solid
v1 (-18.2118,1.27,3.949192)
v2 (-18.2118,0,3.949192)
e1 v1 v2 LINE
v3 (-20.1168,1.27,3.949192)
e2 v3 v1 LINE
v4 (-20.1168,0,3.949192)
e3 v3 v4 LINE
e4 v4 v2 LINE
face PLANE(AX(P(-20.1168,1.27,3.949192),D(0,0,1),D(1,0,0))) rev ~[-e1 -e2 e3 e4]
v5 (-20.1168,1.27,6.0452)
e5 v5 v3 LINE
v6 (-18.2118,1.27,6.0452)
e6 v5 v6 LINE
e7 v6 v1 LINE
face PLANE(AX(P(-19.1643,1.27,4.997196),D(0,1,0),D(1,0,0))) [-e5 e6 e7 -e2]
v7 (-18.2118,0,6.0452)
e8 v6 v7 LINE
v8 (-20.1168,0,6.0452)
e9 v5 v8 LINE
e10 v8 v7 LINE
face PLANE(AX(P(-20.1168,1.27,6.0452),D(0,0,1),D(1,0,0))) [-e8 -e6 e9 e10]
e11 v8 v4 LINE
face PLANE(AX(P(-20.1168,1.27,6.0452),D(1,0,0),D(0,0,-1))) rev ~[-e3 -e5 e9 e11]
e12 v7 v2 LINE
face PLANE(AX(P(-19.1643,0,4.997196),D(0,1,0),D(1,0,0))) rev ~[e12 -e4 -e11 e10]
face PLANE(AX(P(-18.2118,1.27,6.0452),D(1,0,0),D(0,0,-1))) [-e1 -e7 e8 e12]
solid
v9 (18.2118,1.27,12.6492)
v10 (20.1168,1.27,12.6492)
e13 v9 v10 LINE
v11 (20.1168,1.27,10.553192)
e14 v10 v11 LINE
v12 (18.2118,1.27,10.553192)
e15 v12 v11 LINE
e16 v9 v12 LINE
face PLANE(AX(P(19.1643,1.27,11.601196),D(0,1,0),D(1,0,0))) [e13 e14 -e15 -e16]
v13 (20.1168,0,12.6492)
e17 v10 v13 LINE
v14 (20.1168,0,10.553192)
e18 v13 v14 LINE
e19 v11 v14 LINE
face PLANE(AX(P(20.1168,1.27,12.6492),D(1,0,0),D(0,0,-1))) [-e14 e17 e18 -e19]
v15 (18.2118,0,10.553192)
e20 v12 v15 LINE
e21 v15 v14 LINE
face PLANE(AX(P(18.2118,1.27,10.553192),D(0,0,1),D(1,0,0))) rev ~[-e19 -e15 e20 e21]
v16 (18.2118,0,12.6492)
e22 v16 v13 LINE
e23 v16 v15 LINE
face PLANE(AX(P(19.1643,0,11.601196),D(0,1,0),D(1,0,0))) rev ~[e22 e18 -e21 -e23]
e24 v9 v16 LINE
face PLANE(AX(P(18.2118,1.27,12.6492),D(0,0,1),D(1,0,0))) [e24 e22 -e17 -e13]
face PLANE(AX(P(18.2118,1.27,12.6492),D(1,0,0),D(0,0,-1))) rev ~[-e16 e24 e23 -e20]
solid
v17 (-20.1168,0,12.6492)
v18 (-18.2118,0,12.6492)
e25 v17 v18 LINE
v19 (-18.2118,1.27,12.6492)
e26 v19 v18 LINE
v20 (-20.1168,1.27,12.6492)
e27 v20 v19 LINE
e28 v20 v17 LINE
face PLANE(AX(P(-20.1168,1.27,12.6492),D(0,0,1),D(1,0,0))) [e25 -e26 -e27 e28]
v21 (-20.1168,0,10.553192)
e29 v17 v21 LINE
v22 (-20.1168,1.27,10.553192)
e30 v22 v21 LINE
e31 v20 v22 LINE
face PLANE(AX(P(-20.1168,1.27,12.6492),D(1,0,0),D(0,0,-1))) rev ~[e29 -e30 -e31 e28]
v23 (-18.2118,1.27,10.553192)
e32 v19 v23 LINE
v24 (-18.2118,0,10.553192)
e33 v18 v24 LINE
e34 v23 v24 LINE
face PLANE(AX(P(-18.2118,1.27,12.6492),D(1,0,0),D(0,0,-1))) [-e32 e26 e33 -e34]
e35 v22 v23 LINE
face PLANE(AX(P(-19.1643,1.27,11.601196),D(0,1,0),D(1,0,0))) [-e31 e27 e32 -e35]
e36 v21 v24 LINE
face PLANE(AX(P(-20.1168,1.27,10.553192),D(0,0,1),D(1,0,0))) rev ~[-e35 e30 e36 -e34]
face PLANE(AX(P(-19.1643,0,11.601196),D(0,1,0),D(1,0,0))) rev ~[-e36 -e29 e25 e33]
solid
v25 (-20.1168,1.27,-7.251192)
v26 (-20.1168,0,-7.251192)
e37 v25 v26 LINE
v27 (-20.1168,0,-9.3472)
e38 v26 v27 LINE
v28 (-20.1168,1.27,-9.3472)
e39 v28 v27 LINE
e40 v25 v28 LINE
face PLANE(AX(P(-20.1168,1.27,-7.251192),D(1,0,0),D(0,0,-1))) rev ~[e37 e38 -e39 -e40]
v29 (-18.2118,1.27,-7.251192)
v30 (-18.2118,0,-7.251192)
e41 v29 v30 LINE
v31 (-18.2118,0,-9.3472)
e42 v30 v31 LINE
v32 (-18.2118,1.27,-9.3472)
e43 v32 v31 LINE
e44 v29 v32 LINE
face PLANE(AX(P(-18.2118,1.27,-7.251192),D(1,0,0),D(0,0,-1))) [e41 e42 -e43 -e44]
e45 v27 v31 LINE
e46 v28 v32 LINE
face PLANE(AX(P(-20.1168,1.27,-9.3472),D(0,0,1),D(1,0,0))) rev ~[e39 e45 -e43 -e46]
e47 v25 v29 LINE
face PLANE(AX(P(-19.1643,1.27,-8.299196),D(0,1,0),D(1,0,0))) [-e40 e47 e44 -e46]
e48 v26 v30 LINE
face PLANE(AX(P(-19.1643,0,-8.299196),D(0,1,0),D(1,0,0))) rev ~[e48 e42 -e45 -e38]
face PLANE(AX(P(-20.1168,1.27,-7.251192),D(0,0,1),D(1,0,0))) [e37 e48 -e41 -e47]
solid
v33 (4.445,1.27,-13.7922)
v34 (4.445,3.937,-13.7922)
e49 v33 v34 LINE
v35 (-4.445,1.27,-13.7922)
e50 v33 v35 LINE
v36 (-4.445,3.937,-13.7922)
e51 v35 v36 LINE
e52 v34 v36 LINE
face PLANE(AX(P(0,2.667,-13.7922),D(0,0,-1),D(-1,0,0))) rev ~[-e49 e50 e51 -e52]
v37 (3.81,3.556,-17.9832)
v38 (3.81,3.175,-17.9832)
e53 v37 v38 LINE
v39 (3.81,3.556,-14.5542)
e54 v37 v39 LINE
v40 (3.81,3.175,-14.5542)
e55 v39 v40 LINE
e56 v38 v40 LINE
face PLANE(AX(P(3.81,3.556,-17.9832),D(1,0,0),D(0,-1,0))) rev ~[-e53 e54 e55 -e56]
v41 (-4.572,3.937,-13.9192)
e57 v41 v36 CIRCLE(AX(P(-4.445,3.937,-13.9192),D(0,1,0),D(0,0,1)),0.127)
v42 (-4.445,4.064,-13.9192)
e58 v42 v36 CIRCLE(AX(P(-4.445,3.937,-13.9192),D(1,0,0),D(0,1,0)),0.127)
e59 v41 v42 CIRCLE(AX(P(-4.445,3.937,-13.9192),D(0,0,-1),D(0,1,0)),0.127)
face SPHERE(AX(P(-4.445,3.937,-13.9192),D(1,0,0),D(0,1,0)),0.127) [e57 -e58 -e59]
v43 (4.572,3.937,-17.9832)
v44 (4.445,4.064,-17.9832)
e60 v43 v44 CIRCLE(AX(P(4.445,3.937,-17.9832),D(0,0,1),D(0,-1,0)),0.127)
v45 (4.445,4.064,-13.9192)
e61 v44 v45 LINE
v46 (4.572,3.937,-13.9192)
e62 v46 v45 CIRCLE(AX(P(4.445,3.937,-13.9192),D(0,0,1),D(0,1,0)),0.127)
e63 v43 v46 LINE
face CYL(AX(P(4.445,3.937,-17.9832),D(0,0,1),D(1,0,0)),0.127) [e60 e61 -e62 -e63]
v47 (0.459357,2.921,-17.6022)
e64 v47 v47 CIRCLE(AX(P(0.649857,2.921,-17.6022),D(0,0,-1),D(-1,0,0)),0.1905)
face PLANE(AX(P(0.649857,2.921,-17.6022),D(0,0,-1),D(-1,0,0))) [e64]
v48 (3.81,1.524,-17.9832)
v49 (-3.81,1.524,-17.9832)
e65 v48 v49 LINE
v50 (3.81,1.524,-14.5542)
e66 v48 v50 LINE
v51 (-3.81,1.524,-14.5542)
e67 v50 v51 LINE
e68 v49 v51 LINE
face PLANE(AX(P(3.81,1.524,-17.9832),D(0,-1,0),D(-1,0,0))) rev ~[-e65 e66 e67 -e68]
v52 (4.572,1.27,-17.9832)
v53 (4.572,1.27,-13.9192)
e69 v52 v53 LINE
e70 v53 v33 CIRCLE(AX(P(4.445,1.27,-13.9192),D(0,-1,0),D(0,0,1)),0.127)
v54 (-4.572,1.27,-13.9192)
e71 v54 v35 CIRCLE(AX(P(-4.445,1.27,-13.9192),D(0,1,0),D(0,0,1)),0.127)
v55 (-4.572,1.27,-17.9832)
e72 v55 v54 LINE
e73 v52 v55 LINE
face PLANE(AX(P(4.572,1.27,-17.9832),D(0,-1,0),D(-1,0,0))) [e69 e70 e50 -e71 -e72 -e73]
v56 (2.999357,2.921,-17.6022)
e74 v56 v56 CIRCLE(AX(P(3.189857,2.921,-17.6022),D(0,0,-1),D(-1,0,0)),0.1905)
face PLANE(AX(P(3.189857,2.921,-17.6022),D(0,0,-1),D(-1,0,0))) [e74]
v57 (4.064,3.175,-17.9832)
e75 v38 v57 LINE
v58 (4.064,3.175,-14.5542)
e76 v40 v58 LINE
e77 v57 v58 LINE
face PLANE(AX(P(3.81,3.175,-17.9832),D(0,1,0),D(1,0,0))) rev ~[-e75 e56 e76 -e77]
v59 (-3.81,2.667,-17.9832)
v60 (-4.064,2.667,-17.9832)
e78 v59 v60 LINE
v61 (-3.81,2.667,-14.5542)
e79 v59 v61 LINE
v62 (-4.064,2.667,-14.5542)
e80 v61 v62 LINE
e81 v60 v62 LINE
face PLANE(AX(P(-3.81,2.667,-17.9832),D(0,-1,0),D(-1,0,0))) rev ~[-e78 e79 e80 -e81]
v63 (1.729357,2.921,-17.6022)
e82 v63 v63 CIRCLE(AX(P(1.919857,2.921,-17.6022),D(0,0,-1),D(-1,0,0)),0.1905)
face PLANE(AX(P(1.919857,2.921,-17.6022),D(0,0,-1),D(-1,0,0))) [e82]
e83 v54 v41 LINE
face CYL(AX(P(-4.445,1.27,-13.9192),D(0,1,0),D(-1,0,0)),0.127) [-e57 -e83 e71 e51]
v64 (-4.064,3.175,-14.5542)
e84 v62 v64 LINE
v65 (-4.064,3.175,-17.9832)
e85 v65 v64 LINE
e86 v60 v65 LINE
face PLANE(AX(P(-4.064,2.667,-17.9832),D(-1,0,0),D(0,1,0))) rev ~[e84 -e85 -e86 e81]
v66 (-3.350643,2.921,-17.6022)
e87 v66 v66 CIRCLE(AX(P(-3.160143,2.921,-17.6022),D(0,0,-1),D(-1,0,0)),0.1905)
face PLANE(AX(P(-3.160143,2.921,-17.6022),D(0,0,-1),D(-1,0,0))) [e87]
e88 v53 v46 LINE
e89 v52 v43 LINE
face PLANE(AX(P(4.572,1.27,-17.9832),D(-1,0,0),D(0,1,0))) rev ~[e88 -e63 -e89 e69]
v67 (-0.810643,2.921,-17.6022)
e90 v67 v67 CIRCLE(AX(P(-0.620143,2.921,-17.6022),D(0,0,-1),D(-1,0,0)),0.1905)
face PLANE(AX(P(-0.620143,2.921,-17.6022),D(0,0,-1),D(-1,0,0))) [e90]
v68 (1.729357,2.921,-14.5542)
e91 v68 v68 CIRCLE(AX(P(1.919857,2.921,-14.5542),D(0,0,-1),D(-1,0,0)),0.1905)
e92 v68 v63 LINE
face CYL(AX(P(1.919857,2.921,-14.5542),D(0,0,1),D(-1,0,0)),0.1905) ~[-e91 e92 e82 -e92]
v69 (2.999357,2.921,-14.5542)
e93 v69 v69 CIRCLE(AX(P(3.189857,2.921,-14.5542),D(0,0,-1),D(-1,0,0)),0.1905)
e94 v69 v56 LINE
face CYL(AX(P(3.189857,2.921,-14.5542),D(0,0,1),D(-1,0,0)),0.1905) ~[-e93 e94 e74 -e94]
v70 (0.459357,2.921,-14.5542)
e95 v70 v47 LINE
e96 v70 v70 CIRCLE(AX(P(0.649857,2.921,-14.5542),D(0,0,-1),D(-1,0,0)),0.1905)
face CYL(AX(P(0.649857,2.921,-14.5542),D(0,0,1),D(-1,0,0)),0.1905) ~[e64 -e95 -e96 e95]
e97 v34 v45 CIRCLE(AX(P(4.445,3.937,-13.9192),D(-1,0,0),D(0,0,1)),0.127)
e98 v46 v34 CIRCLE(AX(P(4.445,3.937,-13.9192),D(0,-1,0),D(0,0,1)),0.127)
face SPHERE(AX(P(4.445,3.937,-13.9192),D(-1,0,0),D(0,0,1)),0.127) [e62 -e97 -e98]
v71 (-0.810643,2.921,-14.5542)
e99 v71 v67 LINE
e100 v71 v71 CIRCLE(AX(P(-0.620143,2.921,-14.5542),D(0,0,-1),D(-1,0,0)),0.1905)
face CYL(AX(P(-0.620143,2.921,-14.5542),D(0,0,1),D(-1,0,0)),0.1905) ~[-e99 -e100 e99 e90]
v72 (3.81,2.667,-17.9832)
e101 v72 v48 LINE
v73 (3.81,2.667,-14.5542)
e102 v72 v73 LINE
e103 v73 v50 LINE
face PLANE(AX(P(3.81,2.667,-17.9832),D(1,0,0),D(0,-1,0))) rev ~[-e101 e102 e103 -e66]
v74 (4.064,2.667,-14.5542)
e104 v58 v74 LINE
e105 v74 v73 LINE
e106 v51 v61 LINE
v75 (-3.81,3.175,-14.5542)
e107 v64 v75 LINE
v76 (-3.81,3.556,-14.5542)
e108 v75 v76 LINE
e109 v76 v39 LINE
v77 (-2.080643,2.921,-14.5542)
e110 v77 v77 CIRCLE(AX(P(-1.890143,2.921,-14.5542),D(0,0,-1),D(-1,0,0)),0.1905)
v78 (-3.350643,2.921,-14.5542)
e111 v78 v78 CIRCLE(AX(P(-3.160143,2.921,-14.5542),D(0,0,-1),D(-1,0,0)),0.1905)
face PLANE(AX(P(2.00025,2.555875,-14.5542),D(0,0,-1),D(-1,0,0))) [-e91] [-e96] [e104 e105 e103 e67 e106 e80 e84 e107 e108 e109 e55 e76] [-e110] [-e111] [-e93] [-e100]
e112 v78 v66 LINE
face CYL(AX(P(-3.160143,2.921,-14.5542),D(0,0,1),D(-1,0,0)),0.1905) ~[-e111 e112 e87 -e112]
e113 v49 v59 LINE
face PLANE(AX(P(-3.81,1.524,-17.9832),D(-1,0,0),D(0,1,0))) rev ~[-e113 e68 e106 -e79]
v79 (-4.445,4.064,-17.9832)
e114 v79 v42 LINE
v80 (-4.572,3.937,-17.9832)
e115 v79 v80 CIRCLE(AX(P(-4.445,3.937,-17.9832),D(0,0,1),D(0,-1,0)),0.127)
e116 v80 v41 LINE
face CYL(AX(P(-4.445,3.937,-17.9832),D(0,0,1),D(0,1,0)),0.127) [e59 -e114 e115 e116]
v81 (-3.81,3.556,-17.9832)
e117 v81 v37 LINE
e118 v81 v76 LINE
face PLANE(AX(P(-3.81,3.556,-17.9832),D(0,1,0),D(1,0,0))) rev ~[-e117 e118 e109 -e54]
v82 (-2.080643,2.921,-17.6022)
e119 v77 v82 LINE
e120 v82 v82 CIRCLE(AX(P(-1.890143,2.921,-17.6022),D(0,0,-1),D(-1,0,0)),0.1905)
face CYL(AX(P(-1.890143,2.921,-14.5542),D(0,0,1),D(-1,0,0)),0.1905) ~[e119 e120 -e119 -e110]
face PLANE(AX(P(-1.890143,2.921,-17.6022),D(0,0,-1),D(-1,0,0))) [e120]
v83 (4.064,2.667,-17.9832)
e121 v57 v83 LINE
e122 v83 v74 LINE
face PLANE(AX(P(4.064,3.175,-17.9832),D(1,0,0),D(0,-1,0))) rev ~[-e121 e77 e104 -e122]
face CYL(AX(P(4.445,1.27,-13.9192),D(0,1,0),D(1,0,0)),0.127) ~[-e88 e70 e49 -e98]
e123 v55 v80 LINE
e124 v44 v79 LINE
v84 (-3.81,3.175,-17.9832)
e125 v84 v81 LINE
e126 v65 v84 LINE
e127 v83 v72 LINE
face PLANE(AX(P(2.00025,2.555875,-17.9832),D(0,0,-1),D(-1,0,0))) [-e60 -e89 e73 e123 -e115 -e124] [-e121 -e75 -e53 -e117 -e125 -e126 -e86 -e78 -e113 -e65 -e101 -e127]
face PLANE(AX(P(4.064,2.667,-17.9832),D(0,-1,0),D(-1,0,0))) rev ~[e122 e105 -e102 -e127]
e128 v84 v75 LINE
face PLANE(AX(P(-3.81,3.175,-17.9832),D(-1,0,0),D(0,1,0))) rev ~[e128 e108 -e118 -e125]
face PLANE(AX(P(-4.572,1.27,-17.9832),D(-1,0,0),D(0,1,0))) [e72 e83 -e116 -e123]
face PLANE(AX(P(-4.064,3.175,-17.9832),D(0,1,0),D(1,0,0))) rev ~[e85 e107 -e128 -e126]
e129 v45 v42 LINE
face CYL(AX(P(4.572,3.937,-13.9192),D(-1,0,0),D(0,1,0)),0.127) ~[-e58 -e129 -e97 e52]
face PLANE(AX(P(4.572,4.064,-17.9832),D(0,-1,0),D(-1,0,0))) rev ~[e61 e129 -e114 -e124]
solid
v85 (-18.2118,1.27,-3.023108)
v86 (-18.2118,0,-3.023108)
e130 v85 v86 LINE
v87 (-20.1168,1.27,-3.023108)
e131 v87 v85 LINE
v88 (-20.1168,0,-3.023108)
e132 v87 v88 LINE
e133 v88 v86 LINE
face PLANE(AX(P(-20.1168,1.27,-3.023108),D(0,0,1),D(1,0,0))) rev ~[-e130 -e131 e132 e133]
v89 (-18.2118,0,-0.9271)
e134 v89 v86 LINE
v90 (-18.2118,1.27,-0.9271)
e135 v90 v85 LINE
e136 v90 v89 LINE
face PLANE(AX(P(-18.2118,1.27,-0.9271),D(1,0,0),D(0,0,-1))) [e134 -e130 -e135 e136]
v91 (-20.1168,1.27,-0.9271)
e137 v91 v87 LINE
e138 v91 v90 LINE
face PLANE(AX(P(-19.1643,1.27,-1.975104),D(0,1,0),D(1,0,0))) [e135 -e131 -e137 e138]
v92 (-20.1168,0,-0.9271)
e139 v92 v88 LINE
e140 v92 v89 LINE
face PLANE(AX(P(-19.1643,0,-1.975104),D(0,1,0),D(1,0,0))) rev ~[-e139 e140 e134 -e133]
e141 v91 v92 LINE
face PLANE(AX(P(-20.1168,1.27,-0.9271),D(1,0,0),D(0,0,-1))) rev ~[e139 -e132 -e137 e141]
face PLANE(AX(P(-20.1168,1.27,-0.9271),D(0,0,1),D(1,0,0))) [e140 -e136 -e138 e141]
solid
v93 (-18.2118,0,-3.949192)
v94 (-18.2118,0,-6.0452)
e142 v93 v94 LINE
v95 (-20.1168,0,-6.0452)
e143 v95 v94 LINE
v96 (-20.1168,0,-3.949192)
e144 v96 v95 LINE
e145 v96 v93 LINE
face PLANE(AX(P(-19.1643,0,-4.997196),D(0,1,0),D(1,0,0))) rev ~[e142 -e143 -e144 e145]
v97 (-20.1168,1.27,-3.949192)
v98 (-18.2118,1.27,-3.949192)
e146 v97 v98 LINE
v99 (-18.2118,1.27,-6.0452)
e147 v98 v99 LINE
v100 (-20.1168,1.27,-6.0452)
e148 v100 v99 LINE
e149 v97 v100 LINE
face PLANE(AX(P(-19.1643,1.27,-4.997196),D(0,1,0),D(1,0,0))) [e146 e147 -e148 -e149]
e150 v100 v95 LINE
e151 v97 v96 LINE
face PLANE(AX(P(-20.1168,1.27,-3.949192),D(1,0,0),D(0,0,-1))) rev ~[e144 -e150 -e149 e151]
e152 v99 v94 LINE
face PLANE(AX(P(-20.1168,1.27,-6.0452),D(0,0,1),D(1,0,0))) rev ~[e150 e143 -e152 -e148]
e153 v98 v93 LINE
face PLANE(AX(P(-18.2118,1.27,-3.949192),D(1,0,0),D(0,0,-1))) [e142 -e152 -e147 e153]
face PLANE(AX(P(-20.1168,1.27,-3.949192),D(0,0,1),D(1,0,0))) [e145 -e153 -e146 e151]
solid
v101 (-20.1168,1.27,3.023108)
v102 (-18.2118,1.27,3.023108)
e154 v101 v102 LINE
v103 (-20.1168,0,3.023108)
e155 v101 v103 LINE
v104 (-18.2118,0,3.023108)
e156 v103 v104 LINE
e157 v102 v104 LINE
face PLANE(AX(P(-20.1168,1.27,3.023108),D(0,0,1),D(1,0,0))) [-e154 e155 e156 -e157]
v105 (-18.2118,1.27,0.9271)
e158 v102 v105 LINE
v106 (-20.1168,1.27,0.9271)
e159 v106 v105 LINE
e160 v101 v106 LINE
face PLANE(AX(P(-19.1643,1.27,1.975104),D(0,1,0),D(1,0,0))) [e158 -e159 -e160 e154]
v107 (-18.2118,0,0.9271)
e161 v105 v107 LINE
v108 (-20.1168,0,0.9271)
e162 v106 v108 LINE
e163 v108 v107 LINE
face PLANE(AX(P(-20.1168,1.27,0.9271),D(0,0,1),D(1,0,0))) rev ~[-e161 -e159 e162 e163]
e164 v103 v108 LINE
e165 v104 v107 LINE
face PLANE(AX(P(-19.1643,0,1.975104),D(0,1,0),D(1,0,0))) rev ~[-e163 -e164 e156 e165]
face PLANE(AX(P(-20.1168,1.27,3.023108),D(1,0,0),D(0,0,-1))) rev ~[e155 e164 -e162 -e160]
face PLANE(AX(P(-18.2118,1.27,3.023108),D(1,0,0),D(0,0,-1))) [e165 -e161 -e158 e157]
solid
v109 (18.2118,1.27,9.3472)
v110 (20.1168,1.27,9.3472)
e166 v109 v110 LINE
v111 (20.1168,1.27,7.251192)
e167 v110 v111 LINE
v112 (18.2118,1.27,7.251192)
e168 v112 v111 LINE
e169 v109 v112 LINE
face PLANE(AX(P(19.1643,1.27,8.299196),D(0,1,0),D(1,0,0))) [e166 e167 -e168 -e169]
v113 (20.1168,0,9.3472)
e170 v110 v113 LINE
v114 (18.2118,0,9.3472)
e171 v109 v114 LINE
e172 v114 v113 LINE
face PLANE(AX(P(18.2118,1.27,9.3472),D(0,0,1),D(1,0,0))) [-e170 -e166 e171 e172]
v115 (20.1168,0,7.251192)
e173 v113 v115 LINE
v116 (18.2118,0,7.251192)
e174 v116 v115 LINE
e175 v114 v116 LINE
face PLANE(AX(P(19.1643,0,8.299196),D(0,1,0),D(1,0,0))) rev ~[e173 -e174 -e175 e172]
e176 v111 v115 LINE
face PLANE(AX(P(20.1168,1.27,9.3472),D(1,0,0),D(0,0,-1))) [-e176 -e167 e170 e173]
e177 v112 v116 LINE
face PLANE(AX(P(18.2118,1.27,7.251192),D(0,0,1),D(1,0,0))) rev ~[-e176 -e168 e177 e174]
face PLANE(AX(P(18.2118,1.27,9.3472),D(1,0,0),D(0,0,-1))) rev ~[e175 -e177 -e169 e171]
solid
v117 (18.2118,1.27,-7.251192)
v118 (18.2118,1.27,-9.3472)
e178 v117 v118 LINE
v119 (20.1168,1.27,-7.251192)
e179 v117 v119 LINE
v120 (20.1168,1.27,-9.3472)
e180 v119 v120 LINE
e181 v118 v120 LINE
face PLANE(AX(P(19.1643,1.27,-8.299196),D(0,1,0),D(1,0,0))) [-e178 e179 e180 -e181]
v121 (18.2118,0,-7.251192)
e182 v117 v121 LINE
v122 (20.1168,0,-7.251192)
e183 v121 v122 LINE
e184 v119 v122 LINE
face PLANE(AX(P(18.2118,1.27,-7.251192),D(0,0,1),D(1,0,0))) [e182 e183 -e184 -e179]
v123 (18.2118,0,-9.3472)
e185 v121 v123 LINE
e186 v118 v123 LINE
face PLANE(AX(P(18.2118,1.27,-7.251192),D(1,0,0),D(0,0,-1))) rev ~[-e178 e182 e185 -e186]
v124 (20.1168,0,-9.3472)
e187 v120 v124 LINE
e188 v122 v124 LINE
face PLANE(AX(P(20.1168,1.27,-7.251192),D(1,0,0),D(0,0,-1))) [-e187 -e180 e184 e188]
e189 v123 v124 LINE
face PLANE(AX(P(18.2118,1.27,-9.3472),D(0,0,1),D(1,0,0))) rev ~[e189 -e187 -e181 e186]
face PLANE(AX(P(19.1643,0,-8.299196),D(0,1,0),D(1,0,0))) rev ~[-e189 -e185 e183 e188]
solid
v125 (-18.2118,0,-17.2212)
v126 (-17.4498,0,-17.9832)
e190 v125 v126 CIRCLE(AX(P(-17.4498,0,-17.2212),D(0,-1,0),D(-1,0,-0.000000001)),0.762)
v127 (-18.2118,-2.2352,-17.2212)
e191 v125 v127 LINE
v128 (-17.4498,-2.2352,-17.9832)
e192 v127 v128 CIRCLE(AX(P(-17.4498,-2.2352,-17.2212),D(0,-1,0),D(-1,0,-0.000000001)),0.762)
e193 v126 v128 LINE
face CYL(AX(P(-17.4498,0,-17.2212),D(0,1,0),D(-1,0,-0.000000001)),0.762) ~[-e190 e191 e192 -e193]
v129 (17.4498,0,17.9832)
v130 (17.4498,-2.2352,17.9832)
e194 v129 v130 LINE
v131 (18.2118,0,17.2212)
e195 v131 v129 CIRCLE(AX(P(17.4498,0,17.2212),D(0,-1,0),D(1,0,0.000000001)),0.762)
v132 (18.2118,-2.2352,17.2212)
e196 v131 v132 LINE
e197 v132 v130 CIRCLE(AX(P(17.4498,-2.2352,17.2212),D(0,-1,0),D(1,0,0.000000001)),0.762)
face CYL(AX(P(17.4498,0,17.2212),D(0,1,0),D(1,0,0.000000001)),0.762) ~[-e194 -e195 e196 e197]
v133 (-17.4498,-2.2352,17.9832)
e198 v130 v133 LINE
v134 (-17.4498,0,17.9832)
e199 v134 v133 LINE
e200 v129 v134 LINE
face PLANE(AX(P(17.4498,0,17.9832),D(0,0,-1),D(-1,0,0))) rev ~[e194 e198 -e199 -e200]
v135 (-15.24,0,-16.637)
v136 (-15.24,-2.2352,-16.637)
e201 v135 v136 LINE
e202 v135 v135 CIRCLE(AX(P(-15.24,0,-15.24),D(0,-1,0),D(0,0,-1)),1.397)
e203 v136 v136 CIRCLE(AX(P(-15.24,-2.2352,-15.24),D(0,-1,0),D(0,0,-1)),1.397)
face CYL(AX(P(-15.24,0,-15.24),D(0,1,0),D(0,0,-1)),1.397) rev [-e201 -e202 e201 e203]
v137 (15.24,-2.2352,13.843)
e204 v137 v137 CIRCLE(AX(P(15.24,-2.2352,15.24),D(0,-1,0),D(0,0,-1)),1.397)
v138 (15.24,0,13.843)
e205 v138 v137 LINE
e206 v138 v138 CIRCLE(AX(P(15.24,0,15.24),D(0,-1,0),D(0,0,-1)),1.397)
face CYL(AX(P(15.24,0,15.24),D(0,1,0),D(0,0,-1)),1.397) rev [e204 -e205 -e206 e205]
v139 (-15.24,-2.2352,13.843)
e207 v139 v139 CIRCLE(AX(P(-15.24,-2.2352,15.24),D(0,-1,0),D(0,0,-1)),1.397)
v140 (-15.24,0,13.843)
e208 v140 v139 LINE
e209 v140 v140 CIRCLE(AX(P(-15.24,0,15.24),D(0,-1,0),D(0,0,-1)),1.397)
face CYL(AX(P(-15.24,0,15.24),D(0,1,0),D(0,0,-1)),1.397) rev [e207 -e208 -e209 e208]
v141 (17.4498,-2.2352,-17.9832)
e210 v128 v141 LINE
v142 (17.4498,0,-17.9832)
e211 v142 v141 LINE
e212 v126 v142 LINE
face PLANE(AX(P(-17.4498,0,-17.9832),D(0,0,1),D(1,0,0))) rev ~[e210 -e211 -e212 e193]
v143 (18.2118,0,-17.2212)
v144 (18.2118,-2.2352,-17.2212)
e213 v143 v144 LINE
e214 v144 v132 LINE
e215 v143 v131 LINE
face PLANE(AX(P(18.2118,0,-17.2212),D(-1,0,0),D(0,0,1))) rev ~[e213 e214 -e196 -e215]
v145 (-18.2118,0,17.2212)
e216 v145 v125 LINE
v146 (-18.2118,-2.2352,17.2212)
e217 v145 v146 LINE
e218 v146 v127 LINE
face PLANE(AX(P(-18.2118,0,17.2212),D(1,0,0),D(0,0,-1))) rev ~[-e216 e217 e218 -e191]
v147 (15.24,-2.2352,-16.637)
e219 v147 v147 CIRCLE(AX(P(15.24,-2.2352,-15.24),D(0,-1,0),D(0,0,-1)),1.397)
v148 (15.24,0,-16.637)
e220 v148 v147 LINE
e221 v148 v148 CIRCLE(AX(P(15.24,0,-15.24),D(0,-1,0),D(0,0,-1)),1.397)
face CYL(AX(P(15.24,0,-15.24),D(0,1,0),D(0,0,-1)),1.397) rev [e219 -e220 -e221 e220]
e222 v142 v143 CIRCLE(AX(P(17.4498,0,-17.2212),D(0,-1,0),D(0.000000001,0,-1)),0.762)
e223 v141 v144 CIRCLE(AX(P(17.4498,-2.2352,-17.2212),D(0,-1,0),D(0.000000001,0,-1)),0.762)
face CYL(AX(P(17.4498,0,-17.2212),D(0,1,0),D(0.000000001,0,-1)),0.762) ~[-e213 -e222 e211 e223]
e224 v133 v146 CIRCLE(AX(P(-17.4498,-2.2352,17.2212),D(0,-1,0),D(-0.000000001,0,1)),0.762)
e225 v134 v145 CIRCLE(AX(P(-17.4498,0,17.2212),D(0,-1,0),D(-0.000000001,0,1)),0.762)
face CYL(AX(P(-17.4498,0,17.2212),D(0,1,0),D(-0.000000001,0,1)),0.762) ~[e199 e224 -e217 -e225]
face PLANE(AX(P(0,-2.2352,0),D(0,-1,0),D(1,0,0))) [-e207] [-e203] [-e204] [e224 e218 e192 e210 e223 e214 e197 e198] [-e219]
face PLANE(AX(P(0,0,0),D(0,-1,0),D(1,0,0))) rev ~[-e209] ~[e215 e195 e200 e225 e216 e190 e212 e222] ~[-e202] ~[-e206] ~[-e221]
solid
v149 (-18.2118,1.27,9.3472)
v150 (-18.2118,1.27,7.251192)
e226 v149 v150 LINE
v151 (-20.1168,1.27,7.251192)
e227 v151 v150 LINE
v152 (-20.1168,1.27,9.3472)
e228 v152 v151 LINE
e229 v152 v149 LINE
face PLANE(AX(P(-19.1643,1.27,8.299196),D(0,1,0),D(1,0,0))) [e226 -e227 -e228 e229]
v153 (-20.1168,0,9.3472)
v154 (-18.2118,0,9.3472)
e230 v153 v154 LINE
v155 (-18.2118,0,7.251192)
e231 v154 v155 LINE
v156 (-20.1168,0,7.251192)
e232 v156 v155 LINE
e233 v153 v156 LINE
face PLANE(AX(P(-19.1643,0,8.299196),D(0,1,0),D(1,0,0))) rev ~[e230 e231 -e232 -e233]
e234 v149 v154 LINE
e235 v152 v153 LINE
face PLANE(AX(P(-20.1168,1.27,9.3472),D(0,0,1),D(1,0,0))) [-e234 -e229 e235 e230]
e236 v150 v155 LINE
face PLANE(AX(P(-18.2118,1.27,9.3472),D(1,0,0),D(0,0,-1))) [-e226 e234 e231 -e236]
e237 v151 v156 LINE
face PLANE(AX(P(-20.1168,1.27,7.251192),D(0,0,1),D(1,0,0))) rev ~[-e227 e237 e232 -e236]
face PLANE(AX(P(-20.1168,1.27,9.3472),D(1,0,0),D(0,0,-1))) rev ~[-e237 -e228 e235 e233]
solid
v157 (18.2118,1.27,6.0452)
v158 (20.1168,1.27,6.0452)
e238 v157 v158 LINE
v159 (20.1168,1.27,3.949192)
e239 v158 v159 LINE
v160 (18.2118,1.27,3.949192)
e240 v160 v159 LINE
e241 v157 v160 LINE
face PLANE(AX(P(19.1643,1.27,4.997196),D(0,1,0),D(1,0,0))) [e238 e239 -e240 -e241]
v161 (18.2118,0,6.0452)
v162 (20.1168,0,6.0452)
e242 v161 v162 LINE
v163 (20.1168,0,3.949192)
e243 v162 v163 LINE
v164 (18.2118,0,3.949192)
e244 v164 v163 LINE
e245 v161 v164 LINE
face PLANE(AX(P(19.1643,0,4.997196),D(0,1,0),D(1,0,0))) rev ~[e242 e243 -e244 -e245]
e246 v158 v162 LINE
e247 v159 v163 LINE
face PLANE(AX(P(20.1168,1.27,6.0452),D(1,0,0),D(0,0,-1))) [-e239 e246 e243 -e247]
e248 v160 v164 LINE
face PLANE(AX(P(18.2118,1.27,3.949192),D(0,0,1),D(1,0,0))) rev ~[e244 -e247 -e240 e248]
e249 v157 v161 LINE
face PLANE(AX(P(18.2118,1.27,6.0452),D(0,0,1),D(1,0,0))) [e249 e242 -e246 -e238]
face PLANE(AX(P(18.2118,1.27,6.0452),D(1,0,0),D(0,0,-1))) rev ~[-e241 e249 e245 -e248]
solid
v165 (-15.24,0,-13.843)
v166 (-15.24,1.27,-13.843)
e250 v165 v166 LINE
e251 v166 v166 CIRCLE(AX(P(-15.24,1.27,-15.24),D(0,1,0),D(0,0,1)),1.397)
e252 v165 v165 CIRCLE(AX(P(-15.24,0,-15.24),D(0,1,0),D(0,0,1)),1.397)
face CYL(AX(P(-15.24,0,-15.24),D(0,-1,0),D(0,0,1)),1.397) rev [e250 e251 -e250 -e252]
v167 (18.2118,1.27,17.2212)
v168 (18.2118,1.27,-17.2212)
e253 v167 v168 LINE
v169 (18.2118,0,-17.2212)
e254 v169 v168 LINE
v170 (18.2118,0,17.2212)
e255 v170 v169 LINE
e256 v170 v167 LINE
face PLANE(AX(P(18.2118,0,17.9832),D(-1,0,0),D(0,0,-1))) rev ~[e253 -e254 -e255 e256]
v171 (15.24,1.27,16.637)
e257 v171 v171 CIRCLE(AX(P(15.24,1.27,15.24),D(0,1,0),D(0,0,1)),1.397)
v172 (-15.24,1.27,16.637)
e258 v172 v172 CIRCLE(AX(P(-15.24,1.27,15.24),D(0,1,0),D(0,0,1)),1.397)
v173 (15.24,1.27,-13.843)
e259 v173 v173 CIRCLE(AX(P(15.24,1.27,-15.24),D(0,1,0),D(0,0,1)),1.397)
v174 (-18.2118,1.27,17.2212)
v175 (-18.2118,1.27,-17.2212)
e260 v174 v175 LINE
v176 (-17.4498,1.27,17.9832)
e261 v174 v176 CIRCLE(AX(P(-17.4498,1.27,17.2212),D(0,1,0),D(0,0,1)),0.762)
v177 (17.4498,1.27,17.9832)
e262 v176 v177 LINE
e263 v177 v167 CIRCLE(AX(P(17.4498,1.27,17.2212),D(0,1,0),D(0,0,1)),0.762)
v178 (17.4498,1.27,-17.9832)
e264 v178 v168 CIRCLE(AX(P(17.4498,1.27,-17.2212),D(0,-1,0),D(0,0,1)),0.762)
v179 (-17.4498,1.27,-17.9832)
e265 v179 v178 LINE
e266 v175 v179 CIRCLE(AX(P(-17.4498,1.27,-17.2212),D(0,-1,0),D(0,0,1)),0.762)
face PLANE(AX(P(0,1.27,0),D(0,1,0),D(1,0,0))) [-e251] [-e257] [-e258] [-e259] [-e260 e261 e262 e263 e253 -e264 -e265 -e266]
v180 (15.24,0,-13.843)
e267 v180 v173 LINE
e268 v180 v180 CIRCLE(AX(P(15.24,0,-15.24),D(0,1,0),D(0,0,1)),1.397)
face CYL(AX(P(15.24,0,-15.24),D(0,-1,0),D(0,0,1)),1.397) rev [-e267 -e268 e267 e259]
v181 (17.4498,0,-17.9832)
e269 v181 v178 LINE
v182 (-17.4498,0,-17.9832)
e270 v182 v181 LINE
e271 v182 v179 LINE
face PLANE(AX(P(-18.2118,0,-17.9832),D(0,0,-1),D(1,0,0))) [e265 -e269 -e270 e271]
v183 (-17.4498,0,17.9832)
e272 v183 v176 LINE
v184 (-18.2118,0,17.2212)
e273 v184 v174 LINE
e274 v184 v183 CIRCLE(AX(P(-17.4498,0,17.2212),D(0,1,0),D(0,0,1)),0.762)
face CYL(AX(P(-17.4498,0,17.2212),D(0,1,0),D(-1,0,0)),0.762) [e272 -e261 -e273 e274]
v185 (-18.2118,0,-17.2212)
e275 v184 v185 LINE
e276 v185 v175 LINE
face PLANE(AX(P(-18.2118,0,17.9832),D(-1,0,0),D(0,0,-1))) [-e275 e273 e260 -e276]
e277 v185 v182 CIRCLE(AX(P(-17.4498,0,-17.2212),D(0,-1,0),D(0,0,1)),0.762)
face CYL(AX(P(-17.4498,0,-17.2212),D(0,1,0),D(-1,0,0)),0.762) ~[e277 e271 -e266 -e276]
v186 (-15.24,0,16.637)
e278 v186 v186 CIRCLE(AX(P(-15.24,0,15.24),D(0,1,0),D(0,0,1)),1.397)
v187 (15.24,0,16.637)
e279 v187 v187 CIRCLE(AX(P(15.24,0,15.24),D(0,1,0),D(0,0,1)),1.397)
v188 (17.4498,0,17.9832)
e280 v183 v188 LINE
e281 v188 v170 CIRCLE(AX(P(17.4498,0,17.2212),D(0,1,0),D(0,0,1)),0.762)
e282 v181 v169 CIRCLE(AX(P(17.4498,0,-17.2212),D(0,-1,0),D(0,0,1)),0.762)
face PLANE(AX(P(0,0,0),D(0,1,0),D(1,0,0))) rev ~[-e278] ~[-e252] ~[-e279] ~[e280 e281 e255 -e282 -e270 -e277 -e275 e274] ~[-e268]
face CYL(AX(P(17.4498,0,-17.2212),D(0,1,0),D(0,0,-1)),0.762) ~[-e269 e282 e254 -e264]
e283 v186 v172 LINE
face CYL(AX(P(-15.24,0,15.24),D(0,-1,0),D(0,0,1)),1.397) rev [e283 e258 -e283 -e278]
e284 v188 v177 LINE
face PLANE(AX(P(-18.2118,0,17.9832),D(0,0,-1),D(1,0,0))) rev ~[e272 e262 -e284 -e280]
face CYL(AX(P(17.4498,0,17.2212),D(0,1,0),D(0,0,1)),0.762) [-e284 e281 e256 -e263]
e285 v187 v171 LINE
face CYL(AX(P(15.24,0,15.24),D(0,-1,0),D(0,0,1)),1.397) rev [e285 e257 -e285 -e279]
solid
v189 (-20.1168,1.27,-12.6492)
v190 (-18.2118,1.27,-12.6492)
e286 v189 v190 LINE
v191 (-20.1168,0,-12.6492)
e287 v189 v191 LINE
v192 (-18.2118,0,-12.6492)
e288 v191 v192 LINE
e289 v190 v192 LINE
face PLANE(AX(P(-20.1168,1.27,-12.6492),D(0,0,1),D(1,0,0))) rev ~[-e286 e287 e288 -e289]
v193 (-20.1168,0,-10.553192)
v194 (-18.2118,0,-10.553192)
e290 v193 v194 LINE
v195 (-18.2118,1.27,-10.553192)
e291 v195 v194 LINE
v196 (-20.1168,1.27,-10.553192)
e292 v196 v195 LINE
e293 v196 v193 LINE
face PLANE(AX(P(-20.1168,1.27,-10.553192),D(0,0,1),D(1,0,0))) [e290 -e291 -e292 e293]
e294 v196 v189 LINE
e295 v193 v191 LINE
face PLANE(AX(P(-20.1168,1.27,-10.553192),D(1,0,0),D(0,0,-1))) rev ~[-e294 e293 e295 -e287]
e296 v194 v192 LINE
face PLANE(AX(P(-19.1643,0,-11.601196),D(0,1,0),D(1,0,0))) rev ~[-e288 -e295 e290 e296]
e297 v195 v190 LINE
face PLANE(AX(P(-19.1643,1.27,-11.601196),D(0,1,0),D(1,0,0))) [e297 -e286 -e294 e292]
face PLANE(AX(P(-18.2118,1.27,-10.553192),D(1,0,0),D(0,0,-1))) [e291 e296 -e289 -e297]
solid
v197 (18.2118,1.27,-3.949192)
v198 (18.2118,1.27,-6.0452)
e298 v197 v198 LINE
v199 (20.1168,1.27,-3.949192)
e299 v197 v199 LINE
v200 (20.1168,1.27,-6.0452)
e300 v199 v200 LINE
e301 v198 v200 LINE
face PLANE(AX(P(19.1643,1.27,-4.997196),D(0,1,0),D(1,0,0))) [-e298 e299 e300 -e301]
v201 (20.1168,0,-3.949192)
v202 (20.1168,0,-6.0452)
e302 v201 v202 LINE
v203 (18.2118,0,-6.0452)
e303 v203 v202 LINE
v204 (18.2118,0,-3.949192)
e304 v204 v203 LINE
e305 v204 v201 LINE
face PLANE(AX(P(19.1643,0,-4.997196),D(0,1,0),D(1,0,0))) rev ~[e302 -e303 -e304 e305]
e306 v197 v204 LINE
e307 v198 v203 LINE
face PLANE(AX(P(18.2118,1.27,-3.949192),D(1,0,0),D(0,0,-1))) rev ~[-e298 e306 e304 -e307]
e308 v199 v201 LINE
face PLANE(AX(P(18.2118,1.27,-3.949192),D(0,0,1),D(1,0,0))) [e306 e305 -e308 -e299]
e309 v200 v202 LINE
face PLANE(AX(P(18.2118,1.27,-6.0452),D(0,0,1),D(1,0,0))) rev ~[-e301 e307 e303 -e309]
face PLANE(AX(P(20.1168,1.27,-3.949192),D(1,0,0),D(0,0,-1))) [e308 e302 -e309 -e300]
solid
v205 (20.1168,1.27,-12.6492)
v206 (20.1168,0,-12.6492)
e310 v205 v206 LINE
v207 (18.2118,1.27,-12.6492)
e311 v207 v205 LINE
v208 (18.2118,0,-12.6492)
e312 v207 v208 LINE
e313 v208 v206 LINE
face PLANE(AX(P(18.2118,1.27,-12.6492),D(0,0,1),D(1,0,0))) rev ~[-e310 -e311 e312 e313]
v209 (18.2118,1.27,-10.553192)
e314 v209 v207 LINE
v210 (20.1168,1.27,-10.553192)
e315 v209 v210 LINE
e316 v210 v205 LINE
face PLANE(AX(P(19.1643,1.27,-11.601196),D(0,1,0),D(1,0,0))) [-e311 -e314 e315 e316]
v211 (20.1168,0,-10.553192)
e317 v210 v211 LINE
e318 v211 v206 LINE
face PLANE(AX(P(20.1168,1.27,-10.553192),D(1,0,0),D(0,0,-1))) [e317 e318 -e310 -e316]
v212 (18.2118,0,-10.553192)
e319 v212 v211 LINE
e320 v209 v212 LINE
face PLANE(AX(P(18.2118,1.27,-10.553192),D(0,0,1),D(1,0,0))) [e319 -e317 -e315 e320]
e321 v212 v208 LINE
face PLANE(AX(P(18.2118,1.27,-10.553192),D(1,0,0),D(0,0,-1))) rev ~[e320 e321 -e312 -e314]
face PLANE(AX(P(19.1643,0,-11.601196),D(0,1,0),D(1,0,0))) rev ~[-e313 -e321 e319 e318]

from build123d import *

# Parameters (mm, degrees)
SKETCH1_W                = 36.4236
SKETCH1_H                = 35.9664
SKETCH1_R                = 1.397
BOSS_EXTRUDE1_DEPTH      = 1.27
FILLET1_R                = 0.762
SKETCH6_R                = 1.397
ELECTRONICS_HEIGHT_DEPTH = 2.2352
SKETCH2_W                = 1.905
SKETCH2_H                = 2.096008
ESC_PINS_DEPTH           = 1.27
ESC_PINS_2_DEPTH         = 1.27
ESC_PINS_3_DEPTH         = 1.27
ESC_PINS_4_DEPTH         = 1.27
ESC_PINS_5_DEPTH         = 1.27
ESC_PINS_6_DEPTH         = 1.27
ESC_PINS_7_DEPTH         = 1.27
ESC_PINS_8_DEPTH         = 1.27
ESC_PINS_9_DEPTH         = 1.27
ESC_PINS_10_DEPTH        = 1.27
ESC_PINS_11_DEPTH        = 1.27
ESC_PINS_12_DEPTH        = 1.27
SKETCH5_W                = 1.905
SKETCH5_H                = 2.096008
POWER_PINS_DEPTH         = 1.27
POWER_PINS_2_DEPTH       = 1.27
SKETCH3_W                = 9.144
SKETCH3_H                = 2.794
BOSS_EXTRUDE3_DEPTH      = 4.191
CUT_EXTRUDE1_DEPTH       = 3.429
SKETCH4_R                = 0.1905
BOSS_EXTRUDE4_DEPTH      = 3.048
FILLET2_R                = 0.127


with BuildPart() as part:
    # Sketch1 → Boss-Extrude1 (new body)
    with BuildSketch(Plane(origin=(0, 0, 0), x_dir=(1, 0, 0), z_dir=(0, 1, 0))):
        Rectangle(SKETCH1_W, SKETCH1_H)
        with Locations(Location((-15.24, 15.24, 0), (0, 0, 270))):
            Circle(SKETCH1_R, mode=Mode.SUBTRACT)
        with Locations(Location((15.24, 15.24, 0), (0, 0, 270))):
            Circle(SKETCH1_R, mode=Mode.SUBTRACT)
        with Locations(Location((-15.24, -15.24, 0), (0, 0, 270))):
            Circle(SKETCH1_R, mode=Mode.SUBTRACT)
        with Locations(Location((15.24, -15.24, 0), (0, 0, 270))):
            Circle(SKETCH1_R, mode=Mode.SUBTRACT)
    extrude(amount=BOSS_EXTRUDE1_DEPTH)

    # Fillet1
    fillet1_edges = [part.edges().sort_by_distance(p)[0] for p in [
        (18.2118, 0.635, 17.9832),
        (-18.2118, 0.635, 17.9832),
        (-18.2118, 0.635, -17.9832),
        (18.2118, 0.635, -17.9832),
    ]]
    fillet(fillet1_edges, radius=FILLET1_R)


with BuildPart() as body_2:
    # Sketch6 → Electronics Height (new body)
    with BuildSketch(Plane.XZ):
        with BuildLine():
            Line((-18.2118, 17.2212), (-18.2118, -17.2212))
            ThreePointArc((-18.2118, -17.2212), (-17.988615367, -17.760015367), (-17.4498, -17.9832))
            Line((-17.4498, -17.9832), (17.4498, -17.9832))
            ThreePointArc((17.4498, -17.9832), (17.988615367, -17.760015367), (18.2118, -17.2212))
            Line((18.2118, -17.2212), (18.2118, 17.2212))
            ThreePointArc((18.2118, 17.2212), (17.988615367, 17.760015367), (17.4498, 17.9832))
            Line((17.4498, 17.9832), (-17.4498, 17.9832))
            ThreePointArc((-17.4498, 17.9832), (-17.988615367, 17.760015367), (-18.2118, 17.2212))
        make_face()
        with Locations(Location((-15.24, -15.24, 0), (0, 0, 270))):
            Circle(SKETCH6_R, mode=Mode.SUBTRACT)
        with Locations(Location((15.24, -15.24, 0), (0, 0, 270))):
            Circle(SKETCH6_R, mode=Mode.SUBTRACT)
        with Locations(Location((15.24, 15.24, 0), (0, 0, 270))):
            Circle(SKETCH6_R, mode=Mode.SUBTRACT)
        with Locations(Location((-15.24, 15.24, 0), (0, 0, 270))):
            Circle(SKETCH6_R, mode=Mode.SUBTRACT)
    extrude(amount=ELECTRONICS_HEIGHT_DEPTH)


with BuildPart() as body_3:
    # Sketch2 → ESC Pins (new body)
    with BuildSketch(Plane(origin=(0, 1.27, 0), x_dir=(1, 0, 0), z_dir=(0, 1, 0))):
        with Locations((-19.1643, 11.601196)):
            Rectangle(SKETCH2_W, SKETCH2_H)
    extrude(amount=-ESC_PINS_DEPTH)


with BuildPart() as body_4:
    # Sketch2 → ESC Pins 2 (new body)
    with BuildSketch(Plane(origin=(0, 1.27, 0), x_dir=(1, 0, 0), z_dir=(0, 1, 0))):
        with Locations((-19.1643, 8.299196)):
            Rectangle(SKETCH2_W, SKETCH2_H)
    extrude(amount=-ESC_PINS_2_DEPTH)


with BuildPart() as body_5:
    # Sketch2 → ESC Pins 3 (new body)
    with BuildSketch(Plane(origin=(0, 1.27, 0), x_dir=(1, 0, 0), z_dir=(0, 1, 0))):
        with Locations((-19.1643, 4.997196)):
            Rectangle(SKETCH2_W, SKETCH2_H)
    extrude(amount=-ESC_PINS_3_DEPTH)


with BuildPart() as body_6:
    # Sketch2 → ESC Pins 4 (new body)
    with BuildSketch(Plane(origin=(0, 1.27, 0), x_dir=(1, 0, 0), z_dir=(0, 1, 0))):
        with Locations((19.1643, 4.997196)):
            Rectangle(SKETCH2_W, SKETCH2_H)
    extrude(amount=-ESC_PINS_4_DEPTH)


with BuildPart() as body_7:
    # Sketch2 → ESC Pins 5 (new body)
    with BuildSketch(Plane(origin=(0, 1.27, 0), x_dir=(1, 0, 0), z_dir=(0, 1, 0))):
        with Locations((19.1643, 8.299196)):
            Rectangle(SKETCH2_W, SKETCH2_H)
    extrude(amount=-ESC_PINS_5_DEPTH)


with BuildPart() as body_8:
    # Sketch2 → ESC Pins 6 (new body)
    with BuildSketch(Plane(origin=(0, 1.27, 0), x_dir=(1, 0, 0), z_dir=(0, 1, 0))):
        with Locations((19.1643, 11.601196)):
            Rectangle(SKETCH2_W, SKETCH2_H)
    extrude(amount=-ESC_PINS_6_DEPTH)


with BuildPart() as body_9:
    # Sketch2 → ESC Pins 7 (new body)
    with BuildSketch(Plane(origin=(0, 1.27, 0), x_dir=(1, 0, 0), z_dir=(0, 1, 0))):
        with Locations((19.1643, -11.601196)):
            Rectangle(SKETCH2_W, SKETCH2_H)
    extrude(amount=-ESC_PINS_7_DEPTH)


with BuildPart() as body_10:
    # Sketch2 → ESC Pins 8 (new body)
    with BuildSketch(Plane(origin=(0, 1.27, 0), x_dir=(1, 0, 0), z_dir=(0, 1, 0))):
        with Locations((19.1643, -8.299196)):
            Rectangle(SKETCH2_W, SKETCH2_H)
    extrude(amount=-ESC_PINS_8_DEPTH)


with BuildPart() as body_11:
    # Sketch2 → ESC Pins 9 (new body)
    with BuildSketch(Plane(origin=(0, 1.27, 0), x_dir=(1, 0, 0), z_dir=(0, 1, 0))):
        with Locations((19.1643, -4.997196)):
            Rectangle(SKETCH2_W, SKETCH2_H)
    extrude(amount=-ESC_PINS_9_DEPTH)


with BuildPart() as body_12:
    # Sketch2 → ESC Pins 10 (new body)
    with BuildSketch(Plane(origin=(0, 1.27, 0), x_dir=(1, 0, 0), z_dir=(0, 1, 0))):
        with Locations((-19.1643, -4.997196)):
            Rectangle(SKETCH2_W, SKETCH2_H)
    extrude(amount=-ESC_PINS_10_DEPTH)


with BuildPart() as body_13:
    # Sketch2 → ESC Pins 11 (new body)
    with BuildSketch(Plane(origin=(0, 1.27, 0), x_dir=(1, 0, 0), z_dir=(0, 1, 0))):
        with Locations((-19.1643, -8.299196)):
            Rectangle(SKETCH2_W, SKETCH2_H)
    extrude(amount=-ESC_PINS_11_DEPTH)


with BuildPart() as body_14:
    # Sketch2 → ESC Pins 12 (new body)
    with BuildSketch(Plane(origin=(0, 1.27, 0), x_dir=(1, 0, 0), z_dir=(0, 1, 0))):
        with Locations((-19.1643, -11.601196)):
            Rectangle(SKETCH2_W, SKETCH2_H)
    extrude(amount=-ESC_PINS_12_DEPTH)


with BuildPart() as body_15:
    # Sketch5 → Power Pins (new body)
    with BuildSketch(Plane(origin=(0, 1.27, 0), x_dir=(1, 0, 0), z_dir=(0, 1, 0))):
        with Locations((-19.1643, 1.975104)):
            Rectangle(SKETCH5_W, SKETCH5_H)
    extrude(amount=-POWER_PINS_DEPTH)


with BuildPart() as body_16:
    # Sketch5 → Power Pins 2 (new body)
    with BuildSketch(Plane(origin=(0, 1.27, 0), x_dir=(1, 0, 0), z_dir=(0, 1, 0))):
        with Locations((-19.1643, -1.975104)):
            Rectangle(SKETCH5_W, SKETCH5_H)
    extrude(amount=-POWER_PINS_2_DEPTH)


with BuildPart() as body_17:
    # Sketch3 → Boss-Extrude3 (new body)
    # profile 1 of 3: a face of its own
    with BuildSketch(Plane(origin=(0, 0, -17.9832), x_dir=(-1, 0, 0), z_dir=(0, 0, -1))):
        with Locations((0, 2.667)):
            Rectangle(SKETCH3_W, SKETCH3_H)
        Polygon((-3.81, 3.556), (0, 3.556), (3.81, 3.556), (3.81, 3.175), (4.064, 3.175), (4.064, 2.667), (3.81, 2.667), (3.81, 1.524), (0, 1.524), (-3.81, 1.524), (-3.81, 2.667), (-4.064, 2.667), (-4.064, 3.175), (-3.81, 3.175), align=None, mode=Mode.SUBTRACT)
    # profile 2 of 3: a face of its own
    with BuildSketch(Plane(origin=(0, 0, -17.9832), x_dir=(-1, 0, 0), z_dir=(0, 0, -1))):
        Polygon((3.81, 3.556), (0, 3.556), (0, 1.524), (3.81, 1.524), (3.81, 2.667), (4.064, 2.667), (4.064, 3.175), (3.81, 3.175), align=None)
    # profile 3 of 3: a face of its own
    with BuildSketch(Plane(origin=(0, 0, -17.9832), x_dir=(-1, 0, 0), z_dir=(0, 0, -1))):
        Polygon((0, 1.524), (0, 3.556), (-3.81, 3.556), (-3.81, 3.175), (-4.064, 3.175), (-4.064, 2.667), (-3.81, 2.667), (-3.81, 1.524), align=None)
    extrude(amount=-BOSS_EXTRUDE3_DEPTH)

    # Sketch3<3> → Cut-Extrude1 (cut)
    with BuildSketch(Plane(origin=(0, 0, -17.9832), x_dir=(-1, 0, 0), z_dir=(0, 0, -1))):
        Polygon((0, 1.524), (0, 3.556), (-3.81, 3.556), (-3.81, 3.175), (-4.064, 3.175), (-4.064, 2.667), (-3.81, 2.667), (-3.81, 1.524), align=None)
        Polygon((3.81, 3.556), (0, 3.556), (0, 1.524), (3.81, 1.524), (3.81, 2.667), (4.064, 2.667), (4.064, 3.175), (3.81, 3.175), align=None)
    extrude(amount=-CUT_EXTRUDE1_DEPTH, mode=Mode.SUBTRACT)

    # Sketch4 → Boss-Extrude4 (add)
    with BuildSketch(Plane(origin=(0, 0, -14.5542), x_dir=(-1, 0, 0), z_dir=(0, 0, -1))):
        with Locations((-3.189857121, 2.921)):
            Circle(SKETCH4_R)
        with Locations((-1.919857121, 2.921)):
            Circle(SKETCH4_R)
        with Locations((-0.649857121, 2.921)):
            Circle(SKETCH4_R)
        with Locations((0.620142879, 2.921)):
            Circle(SKETCH4_R)
        with Locations((1.890142879, 2.921)):
            Circle(SKETCH4_R)
        with Locations((3.160142879, 2.921)):
            Circle(SKETCH4_R)
    extrude(amount=BOSS_EXTRUDE4_DEPTH)

    # Fillet2
    fillet2_edges = [body_17.edges().sort_by_distance(p)[0] for p in [
        (0, 4.064, -13.7922),
        (4.572, 2.667, -13.7922),
        (4.572, 4.064, -15.8877),
        (-4.572, 4.064, -15.8877),
        (-4.572, 2.667, -13.7922),
    ]]
    fillet(fillet2_edges, radius=FILLET2_R)


solid = Compound([part.part, body_2.part, body_3.part, body_4.part, body_5.part, body_6.part, body_7.part, body_8.part, body_9.part, body_10.part, body_11.part, body_12.part, body_13.part, body_14.part, body_15.part, body_16.part, body_17.part])
